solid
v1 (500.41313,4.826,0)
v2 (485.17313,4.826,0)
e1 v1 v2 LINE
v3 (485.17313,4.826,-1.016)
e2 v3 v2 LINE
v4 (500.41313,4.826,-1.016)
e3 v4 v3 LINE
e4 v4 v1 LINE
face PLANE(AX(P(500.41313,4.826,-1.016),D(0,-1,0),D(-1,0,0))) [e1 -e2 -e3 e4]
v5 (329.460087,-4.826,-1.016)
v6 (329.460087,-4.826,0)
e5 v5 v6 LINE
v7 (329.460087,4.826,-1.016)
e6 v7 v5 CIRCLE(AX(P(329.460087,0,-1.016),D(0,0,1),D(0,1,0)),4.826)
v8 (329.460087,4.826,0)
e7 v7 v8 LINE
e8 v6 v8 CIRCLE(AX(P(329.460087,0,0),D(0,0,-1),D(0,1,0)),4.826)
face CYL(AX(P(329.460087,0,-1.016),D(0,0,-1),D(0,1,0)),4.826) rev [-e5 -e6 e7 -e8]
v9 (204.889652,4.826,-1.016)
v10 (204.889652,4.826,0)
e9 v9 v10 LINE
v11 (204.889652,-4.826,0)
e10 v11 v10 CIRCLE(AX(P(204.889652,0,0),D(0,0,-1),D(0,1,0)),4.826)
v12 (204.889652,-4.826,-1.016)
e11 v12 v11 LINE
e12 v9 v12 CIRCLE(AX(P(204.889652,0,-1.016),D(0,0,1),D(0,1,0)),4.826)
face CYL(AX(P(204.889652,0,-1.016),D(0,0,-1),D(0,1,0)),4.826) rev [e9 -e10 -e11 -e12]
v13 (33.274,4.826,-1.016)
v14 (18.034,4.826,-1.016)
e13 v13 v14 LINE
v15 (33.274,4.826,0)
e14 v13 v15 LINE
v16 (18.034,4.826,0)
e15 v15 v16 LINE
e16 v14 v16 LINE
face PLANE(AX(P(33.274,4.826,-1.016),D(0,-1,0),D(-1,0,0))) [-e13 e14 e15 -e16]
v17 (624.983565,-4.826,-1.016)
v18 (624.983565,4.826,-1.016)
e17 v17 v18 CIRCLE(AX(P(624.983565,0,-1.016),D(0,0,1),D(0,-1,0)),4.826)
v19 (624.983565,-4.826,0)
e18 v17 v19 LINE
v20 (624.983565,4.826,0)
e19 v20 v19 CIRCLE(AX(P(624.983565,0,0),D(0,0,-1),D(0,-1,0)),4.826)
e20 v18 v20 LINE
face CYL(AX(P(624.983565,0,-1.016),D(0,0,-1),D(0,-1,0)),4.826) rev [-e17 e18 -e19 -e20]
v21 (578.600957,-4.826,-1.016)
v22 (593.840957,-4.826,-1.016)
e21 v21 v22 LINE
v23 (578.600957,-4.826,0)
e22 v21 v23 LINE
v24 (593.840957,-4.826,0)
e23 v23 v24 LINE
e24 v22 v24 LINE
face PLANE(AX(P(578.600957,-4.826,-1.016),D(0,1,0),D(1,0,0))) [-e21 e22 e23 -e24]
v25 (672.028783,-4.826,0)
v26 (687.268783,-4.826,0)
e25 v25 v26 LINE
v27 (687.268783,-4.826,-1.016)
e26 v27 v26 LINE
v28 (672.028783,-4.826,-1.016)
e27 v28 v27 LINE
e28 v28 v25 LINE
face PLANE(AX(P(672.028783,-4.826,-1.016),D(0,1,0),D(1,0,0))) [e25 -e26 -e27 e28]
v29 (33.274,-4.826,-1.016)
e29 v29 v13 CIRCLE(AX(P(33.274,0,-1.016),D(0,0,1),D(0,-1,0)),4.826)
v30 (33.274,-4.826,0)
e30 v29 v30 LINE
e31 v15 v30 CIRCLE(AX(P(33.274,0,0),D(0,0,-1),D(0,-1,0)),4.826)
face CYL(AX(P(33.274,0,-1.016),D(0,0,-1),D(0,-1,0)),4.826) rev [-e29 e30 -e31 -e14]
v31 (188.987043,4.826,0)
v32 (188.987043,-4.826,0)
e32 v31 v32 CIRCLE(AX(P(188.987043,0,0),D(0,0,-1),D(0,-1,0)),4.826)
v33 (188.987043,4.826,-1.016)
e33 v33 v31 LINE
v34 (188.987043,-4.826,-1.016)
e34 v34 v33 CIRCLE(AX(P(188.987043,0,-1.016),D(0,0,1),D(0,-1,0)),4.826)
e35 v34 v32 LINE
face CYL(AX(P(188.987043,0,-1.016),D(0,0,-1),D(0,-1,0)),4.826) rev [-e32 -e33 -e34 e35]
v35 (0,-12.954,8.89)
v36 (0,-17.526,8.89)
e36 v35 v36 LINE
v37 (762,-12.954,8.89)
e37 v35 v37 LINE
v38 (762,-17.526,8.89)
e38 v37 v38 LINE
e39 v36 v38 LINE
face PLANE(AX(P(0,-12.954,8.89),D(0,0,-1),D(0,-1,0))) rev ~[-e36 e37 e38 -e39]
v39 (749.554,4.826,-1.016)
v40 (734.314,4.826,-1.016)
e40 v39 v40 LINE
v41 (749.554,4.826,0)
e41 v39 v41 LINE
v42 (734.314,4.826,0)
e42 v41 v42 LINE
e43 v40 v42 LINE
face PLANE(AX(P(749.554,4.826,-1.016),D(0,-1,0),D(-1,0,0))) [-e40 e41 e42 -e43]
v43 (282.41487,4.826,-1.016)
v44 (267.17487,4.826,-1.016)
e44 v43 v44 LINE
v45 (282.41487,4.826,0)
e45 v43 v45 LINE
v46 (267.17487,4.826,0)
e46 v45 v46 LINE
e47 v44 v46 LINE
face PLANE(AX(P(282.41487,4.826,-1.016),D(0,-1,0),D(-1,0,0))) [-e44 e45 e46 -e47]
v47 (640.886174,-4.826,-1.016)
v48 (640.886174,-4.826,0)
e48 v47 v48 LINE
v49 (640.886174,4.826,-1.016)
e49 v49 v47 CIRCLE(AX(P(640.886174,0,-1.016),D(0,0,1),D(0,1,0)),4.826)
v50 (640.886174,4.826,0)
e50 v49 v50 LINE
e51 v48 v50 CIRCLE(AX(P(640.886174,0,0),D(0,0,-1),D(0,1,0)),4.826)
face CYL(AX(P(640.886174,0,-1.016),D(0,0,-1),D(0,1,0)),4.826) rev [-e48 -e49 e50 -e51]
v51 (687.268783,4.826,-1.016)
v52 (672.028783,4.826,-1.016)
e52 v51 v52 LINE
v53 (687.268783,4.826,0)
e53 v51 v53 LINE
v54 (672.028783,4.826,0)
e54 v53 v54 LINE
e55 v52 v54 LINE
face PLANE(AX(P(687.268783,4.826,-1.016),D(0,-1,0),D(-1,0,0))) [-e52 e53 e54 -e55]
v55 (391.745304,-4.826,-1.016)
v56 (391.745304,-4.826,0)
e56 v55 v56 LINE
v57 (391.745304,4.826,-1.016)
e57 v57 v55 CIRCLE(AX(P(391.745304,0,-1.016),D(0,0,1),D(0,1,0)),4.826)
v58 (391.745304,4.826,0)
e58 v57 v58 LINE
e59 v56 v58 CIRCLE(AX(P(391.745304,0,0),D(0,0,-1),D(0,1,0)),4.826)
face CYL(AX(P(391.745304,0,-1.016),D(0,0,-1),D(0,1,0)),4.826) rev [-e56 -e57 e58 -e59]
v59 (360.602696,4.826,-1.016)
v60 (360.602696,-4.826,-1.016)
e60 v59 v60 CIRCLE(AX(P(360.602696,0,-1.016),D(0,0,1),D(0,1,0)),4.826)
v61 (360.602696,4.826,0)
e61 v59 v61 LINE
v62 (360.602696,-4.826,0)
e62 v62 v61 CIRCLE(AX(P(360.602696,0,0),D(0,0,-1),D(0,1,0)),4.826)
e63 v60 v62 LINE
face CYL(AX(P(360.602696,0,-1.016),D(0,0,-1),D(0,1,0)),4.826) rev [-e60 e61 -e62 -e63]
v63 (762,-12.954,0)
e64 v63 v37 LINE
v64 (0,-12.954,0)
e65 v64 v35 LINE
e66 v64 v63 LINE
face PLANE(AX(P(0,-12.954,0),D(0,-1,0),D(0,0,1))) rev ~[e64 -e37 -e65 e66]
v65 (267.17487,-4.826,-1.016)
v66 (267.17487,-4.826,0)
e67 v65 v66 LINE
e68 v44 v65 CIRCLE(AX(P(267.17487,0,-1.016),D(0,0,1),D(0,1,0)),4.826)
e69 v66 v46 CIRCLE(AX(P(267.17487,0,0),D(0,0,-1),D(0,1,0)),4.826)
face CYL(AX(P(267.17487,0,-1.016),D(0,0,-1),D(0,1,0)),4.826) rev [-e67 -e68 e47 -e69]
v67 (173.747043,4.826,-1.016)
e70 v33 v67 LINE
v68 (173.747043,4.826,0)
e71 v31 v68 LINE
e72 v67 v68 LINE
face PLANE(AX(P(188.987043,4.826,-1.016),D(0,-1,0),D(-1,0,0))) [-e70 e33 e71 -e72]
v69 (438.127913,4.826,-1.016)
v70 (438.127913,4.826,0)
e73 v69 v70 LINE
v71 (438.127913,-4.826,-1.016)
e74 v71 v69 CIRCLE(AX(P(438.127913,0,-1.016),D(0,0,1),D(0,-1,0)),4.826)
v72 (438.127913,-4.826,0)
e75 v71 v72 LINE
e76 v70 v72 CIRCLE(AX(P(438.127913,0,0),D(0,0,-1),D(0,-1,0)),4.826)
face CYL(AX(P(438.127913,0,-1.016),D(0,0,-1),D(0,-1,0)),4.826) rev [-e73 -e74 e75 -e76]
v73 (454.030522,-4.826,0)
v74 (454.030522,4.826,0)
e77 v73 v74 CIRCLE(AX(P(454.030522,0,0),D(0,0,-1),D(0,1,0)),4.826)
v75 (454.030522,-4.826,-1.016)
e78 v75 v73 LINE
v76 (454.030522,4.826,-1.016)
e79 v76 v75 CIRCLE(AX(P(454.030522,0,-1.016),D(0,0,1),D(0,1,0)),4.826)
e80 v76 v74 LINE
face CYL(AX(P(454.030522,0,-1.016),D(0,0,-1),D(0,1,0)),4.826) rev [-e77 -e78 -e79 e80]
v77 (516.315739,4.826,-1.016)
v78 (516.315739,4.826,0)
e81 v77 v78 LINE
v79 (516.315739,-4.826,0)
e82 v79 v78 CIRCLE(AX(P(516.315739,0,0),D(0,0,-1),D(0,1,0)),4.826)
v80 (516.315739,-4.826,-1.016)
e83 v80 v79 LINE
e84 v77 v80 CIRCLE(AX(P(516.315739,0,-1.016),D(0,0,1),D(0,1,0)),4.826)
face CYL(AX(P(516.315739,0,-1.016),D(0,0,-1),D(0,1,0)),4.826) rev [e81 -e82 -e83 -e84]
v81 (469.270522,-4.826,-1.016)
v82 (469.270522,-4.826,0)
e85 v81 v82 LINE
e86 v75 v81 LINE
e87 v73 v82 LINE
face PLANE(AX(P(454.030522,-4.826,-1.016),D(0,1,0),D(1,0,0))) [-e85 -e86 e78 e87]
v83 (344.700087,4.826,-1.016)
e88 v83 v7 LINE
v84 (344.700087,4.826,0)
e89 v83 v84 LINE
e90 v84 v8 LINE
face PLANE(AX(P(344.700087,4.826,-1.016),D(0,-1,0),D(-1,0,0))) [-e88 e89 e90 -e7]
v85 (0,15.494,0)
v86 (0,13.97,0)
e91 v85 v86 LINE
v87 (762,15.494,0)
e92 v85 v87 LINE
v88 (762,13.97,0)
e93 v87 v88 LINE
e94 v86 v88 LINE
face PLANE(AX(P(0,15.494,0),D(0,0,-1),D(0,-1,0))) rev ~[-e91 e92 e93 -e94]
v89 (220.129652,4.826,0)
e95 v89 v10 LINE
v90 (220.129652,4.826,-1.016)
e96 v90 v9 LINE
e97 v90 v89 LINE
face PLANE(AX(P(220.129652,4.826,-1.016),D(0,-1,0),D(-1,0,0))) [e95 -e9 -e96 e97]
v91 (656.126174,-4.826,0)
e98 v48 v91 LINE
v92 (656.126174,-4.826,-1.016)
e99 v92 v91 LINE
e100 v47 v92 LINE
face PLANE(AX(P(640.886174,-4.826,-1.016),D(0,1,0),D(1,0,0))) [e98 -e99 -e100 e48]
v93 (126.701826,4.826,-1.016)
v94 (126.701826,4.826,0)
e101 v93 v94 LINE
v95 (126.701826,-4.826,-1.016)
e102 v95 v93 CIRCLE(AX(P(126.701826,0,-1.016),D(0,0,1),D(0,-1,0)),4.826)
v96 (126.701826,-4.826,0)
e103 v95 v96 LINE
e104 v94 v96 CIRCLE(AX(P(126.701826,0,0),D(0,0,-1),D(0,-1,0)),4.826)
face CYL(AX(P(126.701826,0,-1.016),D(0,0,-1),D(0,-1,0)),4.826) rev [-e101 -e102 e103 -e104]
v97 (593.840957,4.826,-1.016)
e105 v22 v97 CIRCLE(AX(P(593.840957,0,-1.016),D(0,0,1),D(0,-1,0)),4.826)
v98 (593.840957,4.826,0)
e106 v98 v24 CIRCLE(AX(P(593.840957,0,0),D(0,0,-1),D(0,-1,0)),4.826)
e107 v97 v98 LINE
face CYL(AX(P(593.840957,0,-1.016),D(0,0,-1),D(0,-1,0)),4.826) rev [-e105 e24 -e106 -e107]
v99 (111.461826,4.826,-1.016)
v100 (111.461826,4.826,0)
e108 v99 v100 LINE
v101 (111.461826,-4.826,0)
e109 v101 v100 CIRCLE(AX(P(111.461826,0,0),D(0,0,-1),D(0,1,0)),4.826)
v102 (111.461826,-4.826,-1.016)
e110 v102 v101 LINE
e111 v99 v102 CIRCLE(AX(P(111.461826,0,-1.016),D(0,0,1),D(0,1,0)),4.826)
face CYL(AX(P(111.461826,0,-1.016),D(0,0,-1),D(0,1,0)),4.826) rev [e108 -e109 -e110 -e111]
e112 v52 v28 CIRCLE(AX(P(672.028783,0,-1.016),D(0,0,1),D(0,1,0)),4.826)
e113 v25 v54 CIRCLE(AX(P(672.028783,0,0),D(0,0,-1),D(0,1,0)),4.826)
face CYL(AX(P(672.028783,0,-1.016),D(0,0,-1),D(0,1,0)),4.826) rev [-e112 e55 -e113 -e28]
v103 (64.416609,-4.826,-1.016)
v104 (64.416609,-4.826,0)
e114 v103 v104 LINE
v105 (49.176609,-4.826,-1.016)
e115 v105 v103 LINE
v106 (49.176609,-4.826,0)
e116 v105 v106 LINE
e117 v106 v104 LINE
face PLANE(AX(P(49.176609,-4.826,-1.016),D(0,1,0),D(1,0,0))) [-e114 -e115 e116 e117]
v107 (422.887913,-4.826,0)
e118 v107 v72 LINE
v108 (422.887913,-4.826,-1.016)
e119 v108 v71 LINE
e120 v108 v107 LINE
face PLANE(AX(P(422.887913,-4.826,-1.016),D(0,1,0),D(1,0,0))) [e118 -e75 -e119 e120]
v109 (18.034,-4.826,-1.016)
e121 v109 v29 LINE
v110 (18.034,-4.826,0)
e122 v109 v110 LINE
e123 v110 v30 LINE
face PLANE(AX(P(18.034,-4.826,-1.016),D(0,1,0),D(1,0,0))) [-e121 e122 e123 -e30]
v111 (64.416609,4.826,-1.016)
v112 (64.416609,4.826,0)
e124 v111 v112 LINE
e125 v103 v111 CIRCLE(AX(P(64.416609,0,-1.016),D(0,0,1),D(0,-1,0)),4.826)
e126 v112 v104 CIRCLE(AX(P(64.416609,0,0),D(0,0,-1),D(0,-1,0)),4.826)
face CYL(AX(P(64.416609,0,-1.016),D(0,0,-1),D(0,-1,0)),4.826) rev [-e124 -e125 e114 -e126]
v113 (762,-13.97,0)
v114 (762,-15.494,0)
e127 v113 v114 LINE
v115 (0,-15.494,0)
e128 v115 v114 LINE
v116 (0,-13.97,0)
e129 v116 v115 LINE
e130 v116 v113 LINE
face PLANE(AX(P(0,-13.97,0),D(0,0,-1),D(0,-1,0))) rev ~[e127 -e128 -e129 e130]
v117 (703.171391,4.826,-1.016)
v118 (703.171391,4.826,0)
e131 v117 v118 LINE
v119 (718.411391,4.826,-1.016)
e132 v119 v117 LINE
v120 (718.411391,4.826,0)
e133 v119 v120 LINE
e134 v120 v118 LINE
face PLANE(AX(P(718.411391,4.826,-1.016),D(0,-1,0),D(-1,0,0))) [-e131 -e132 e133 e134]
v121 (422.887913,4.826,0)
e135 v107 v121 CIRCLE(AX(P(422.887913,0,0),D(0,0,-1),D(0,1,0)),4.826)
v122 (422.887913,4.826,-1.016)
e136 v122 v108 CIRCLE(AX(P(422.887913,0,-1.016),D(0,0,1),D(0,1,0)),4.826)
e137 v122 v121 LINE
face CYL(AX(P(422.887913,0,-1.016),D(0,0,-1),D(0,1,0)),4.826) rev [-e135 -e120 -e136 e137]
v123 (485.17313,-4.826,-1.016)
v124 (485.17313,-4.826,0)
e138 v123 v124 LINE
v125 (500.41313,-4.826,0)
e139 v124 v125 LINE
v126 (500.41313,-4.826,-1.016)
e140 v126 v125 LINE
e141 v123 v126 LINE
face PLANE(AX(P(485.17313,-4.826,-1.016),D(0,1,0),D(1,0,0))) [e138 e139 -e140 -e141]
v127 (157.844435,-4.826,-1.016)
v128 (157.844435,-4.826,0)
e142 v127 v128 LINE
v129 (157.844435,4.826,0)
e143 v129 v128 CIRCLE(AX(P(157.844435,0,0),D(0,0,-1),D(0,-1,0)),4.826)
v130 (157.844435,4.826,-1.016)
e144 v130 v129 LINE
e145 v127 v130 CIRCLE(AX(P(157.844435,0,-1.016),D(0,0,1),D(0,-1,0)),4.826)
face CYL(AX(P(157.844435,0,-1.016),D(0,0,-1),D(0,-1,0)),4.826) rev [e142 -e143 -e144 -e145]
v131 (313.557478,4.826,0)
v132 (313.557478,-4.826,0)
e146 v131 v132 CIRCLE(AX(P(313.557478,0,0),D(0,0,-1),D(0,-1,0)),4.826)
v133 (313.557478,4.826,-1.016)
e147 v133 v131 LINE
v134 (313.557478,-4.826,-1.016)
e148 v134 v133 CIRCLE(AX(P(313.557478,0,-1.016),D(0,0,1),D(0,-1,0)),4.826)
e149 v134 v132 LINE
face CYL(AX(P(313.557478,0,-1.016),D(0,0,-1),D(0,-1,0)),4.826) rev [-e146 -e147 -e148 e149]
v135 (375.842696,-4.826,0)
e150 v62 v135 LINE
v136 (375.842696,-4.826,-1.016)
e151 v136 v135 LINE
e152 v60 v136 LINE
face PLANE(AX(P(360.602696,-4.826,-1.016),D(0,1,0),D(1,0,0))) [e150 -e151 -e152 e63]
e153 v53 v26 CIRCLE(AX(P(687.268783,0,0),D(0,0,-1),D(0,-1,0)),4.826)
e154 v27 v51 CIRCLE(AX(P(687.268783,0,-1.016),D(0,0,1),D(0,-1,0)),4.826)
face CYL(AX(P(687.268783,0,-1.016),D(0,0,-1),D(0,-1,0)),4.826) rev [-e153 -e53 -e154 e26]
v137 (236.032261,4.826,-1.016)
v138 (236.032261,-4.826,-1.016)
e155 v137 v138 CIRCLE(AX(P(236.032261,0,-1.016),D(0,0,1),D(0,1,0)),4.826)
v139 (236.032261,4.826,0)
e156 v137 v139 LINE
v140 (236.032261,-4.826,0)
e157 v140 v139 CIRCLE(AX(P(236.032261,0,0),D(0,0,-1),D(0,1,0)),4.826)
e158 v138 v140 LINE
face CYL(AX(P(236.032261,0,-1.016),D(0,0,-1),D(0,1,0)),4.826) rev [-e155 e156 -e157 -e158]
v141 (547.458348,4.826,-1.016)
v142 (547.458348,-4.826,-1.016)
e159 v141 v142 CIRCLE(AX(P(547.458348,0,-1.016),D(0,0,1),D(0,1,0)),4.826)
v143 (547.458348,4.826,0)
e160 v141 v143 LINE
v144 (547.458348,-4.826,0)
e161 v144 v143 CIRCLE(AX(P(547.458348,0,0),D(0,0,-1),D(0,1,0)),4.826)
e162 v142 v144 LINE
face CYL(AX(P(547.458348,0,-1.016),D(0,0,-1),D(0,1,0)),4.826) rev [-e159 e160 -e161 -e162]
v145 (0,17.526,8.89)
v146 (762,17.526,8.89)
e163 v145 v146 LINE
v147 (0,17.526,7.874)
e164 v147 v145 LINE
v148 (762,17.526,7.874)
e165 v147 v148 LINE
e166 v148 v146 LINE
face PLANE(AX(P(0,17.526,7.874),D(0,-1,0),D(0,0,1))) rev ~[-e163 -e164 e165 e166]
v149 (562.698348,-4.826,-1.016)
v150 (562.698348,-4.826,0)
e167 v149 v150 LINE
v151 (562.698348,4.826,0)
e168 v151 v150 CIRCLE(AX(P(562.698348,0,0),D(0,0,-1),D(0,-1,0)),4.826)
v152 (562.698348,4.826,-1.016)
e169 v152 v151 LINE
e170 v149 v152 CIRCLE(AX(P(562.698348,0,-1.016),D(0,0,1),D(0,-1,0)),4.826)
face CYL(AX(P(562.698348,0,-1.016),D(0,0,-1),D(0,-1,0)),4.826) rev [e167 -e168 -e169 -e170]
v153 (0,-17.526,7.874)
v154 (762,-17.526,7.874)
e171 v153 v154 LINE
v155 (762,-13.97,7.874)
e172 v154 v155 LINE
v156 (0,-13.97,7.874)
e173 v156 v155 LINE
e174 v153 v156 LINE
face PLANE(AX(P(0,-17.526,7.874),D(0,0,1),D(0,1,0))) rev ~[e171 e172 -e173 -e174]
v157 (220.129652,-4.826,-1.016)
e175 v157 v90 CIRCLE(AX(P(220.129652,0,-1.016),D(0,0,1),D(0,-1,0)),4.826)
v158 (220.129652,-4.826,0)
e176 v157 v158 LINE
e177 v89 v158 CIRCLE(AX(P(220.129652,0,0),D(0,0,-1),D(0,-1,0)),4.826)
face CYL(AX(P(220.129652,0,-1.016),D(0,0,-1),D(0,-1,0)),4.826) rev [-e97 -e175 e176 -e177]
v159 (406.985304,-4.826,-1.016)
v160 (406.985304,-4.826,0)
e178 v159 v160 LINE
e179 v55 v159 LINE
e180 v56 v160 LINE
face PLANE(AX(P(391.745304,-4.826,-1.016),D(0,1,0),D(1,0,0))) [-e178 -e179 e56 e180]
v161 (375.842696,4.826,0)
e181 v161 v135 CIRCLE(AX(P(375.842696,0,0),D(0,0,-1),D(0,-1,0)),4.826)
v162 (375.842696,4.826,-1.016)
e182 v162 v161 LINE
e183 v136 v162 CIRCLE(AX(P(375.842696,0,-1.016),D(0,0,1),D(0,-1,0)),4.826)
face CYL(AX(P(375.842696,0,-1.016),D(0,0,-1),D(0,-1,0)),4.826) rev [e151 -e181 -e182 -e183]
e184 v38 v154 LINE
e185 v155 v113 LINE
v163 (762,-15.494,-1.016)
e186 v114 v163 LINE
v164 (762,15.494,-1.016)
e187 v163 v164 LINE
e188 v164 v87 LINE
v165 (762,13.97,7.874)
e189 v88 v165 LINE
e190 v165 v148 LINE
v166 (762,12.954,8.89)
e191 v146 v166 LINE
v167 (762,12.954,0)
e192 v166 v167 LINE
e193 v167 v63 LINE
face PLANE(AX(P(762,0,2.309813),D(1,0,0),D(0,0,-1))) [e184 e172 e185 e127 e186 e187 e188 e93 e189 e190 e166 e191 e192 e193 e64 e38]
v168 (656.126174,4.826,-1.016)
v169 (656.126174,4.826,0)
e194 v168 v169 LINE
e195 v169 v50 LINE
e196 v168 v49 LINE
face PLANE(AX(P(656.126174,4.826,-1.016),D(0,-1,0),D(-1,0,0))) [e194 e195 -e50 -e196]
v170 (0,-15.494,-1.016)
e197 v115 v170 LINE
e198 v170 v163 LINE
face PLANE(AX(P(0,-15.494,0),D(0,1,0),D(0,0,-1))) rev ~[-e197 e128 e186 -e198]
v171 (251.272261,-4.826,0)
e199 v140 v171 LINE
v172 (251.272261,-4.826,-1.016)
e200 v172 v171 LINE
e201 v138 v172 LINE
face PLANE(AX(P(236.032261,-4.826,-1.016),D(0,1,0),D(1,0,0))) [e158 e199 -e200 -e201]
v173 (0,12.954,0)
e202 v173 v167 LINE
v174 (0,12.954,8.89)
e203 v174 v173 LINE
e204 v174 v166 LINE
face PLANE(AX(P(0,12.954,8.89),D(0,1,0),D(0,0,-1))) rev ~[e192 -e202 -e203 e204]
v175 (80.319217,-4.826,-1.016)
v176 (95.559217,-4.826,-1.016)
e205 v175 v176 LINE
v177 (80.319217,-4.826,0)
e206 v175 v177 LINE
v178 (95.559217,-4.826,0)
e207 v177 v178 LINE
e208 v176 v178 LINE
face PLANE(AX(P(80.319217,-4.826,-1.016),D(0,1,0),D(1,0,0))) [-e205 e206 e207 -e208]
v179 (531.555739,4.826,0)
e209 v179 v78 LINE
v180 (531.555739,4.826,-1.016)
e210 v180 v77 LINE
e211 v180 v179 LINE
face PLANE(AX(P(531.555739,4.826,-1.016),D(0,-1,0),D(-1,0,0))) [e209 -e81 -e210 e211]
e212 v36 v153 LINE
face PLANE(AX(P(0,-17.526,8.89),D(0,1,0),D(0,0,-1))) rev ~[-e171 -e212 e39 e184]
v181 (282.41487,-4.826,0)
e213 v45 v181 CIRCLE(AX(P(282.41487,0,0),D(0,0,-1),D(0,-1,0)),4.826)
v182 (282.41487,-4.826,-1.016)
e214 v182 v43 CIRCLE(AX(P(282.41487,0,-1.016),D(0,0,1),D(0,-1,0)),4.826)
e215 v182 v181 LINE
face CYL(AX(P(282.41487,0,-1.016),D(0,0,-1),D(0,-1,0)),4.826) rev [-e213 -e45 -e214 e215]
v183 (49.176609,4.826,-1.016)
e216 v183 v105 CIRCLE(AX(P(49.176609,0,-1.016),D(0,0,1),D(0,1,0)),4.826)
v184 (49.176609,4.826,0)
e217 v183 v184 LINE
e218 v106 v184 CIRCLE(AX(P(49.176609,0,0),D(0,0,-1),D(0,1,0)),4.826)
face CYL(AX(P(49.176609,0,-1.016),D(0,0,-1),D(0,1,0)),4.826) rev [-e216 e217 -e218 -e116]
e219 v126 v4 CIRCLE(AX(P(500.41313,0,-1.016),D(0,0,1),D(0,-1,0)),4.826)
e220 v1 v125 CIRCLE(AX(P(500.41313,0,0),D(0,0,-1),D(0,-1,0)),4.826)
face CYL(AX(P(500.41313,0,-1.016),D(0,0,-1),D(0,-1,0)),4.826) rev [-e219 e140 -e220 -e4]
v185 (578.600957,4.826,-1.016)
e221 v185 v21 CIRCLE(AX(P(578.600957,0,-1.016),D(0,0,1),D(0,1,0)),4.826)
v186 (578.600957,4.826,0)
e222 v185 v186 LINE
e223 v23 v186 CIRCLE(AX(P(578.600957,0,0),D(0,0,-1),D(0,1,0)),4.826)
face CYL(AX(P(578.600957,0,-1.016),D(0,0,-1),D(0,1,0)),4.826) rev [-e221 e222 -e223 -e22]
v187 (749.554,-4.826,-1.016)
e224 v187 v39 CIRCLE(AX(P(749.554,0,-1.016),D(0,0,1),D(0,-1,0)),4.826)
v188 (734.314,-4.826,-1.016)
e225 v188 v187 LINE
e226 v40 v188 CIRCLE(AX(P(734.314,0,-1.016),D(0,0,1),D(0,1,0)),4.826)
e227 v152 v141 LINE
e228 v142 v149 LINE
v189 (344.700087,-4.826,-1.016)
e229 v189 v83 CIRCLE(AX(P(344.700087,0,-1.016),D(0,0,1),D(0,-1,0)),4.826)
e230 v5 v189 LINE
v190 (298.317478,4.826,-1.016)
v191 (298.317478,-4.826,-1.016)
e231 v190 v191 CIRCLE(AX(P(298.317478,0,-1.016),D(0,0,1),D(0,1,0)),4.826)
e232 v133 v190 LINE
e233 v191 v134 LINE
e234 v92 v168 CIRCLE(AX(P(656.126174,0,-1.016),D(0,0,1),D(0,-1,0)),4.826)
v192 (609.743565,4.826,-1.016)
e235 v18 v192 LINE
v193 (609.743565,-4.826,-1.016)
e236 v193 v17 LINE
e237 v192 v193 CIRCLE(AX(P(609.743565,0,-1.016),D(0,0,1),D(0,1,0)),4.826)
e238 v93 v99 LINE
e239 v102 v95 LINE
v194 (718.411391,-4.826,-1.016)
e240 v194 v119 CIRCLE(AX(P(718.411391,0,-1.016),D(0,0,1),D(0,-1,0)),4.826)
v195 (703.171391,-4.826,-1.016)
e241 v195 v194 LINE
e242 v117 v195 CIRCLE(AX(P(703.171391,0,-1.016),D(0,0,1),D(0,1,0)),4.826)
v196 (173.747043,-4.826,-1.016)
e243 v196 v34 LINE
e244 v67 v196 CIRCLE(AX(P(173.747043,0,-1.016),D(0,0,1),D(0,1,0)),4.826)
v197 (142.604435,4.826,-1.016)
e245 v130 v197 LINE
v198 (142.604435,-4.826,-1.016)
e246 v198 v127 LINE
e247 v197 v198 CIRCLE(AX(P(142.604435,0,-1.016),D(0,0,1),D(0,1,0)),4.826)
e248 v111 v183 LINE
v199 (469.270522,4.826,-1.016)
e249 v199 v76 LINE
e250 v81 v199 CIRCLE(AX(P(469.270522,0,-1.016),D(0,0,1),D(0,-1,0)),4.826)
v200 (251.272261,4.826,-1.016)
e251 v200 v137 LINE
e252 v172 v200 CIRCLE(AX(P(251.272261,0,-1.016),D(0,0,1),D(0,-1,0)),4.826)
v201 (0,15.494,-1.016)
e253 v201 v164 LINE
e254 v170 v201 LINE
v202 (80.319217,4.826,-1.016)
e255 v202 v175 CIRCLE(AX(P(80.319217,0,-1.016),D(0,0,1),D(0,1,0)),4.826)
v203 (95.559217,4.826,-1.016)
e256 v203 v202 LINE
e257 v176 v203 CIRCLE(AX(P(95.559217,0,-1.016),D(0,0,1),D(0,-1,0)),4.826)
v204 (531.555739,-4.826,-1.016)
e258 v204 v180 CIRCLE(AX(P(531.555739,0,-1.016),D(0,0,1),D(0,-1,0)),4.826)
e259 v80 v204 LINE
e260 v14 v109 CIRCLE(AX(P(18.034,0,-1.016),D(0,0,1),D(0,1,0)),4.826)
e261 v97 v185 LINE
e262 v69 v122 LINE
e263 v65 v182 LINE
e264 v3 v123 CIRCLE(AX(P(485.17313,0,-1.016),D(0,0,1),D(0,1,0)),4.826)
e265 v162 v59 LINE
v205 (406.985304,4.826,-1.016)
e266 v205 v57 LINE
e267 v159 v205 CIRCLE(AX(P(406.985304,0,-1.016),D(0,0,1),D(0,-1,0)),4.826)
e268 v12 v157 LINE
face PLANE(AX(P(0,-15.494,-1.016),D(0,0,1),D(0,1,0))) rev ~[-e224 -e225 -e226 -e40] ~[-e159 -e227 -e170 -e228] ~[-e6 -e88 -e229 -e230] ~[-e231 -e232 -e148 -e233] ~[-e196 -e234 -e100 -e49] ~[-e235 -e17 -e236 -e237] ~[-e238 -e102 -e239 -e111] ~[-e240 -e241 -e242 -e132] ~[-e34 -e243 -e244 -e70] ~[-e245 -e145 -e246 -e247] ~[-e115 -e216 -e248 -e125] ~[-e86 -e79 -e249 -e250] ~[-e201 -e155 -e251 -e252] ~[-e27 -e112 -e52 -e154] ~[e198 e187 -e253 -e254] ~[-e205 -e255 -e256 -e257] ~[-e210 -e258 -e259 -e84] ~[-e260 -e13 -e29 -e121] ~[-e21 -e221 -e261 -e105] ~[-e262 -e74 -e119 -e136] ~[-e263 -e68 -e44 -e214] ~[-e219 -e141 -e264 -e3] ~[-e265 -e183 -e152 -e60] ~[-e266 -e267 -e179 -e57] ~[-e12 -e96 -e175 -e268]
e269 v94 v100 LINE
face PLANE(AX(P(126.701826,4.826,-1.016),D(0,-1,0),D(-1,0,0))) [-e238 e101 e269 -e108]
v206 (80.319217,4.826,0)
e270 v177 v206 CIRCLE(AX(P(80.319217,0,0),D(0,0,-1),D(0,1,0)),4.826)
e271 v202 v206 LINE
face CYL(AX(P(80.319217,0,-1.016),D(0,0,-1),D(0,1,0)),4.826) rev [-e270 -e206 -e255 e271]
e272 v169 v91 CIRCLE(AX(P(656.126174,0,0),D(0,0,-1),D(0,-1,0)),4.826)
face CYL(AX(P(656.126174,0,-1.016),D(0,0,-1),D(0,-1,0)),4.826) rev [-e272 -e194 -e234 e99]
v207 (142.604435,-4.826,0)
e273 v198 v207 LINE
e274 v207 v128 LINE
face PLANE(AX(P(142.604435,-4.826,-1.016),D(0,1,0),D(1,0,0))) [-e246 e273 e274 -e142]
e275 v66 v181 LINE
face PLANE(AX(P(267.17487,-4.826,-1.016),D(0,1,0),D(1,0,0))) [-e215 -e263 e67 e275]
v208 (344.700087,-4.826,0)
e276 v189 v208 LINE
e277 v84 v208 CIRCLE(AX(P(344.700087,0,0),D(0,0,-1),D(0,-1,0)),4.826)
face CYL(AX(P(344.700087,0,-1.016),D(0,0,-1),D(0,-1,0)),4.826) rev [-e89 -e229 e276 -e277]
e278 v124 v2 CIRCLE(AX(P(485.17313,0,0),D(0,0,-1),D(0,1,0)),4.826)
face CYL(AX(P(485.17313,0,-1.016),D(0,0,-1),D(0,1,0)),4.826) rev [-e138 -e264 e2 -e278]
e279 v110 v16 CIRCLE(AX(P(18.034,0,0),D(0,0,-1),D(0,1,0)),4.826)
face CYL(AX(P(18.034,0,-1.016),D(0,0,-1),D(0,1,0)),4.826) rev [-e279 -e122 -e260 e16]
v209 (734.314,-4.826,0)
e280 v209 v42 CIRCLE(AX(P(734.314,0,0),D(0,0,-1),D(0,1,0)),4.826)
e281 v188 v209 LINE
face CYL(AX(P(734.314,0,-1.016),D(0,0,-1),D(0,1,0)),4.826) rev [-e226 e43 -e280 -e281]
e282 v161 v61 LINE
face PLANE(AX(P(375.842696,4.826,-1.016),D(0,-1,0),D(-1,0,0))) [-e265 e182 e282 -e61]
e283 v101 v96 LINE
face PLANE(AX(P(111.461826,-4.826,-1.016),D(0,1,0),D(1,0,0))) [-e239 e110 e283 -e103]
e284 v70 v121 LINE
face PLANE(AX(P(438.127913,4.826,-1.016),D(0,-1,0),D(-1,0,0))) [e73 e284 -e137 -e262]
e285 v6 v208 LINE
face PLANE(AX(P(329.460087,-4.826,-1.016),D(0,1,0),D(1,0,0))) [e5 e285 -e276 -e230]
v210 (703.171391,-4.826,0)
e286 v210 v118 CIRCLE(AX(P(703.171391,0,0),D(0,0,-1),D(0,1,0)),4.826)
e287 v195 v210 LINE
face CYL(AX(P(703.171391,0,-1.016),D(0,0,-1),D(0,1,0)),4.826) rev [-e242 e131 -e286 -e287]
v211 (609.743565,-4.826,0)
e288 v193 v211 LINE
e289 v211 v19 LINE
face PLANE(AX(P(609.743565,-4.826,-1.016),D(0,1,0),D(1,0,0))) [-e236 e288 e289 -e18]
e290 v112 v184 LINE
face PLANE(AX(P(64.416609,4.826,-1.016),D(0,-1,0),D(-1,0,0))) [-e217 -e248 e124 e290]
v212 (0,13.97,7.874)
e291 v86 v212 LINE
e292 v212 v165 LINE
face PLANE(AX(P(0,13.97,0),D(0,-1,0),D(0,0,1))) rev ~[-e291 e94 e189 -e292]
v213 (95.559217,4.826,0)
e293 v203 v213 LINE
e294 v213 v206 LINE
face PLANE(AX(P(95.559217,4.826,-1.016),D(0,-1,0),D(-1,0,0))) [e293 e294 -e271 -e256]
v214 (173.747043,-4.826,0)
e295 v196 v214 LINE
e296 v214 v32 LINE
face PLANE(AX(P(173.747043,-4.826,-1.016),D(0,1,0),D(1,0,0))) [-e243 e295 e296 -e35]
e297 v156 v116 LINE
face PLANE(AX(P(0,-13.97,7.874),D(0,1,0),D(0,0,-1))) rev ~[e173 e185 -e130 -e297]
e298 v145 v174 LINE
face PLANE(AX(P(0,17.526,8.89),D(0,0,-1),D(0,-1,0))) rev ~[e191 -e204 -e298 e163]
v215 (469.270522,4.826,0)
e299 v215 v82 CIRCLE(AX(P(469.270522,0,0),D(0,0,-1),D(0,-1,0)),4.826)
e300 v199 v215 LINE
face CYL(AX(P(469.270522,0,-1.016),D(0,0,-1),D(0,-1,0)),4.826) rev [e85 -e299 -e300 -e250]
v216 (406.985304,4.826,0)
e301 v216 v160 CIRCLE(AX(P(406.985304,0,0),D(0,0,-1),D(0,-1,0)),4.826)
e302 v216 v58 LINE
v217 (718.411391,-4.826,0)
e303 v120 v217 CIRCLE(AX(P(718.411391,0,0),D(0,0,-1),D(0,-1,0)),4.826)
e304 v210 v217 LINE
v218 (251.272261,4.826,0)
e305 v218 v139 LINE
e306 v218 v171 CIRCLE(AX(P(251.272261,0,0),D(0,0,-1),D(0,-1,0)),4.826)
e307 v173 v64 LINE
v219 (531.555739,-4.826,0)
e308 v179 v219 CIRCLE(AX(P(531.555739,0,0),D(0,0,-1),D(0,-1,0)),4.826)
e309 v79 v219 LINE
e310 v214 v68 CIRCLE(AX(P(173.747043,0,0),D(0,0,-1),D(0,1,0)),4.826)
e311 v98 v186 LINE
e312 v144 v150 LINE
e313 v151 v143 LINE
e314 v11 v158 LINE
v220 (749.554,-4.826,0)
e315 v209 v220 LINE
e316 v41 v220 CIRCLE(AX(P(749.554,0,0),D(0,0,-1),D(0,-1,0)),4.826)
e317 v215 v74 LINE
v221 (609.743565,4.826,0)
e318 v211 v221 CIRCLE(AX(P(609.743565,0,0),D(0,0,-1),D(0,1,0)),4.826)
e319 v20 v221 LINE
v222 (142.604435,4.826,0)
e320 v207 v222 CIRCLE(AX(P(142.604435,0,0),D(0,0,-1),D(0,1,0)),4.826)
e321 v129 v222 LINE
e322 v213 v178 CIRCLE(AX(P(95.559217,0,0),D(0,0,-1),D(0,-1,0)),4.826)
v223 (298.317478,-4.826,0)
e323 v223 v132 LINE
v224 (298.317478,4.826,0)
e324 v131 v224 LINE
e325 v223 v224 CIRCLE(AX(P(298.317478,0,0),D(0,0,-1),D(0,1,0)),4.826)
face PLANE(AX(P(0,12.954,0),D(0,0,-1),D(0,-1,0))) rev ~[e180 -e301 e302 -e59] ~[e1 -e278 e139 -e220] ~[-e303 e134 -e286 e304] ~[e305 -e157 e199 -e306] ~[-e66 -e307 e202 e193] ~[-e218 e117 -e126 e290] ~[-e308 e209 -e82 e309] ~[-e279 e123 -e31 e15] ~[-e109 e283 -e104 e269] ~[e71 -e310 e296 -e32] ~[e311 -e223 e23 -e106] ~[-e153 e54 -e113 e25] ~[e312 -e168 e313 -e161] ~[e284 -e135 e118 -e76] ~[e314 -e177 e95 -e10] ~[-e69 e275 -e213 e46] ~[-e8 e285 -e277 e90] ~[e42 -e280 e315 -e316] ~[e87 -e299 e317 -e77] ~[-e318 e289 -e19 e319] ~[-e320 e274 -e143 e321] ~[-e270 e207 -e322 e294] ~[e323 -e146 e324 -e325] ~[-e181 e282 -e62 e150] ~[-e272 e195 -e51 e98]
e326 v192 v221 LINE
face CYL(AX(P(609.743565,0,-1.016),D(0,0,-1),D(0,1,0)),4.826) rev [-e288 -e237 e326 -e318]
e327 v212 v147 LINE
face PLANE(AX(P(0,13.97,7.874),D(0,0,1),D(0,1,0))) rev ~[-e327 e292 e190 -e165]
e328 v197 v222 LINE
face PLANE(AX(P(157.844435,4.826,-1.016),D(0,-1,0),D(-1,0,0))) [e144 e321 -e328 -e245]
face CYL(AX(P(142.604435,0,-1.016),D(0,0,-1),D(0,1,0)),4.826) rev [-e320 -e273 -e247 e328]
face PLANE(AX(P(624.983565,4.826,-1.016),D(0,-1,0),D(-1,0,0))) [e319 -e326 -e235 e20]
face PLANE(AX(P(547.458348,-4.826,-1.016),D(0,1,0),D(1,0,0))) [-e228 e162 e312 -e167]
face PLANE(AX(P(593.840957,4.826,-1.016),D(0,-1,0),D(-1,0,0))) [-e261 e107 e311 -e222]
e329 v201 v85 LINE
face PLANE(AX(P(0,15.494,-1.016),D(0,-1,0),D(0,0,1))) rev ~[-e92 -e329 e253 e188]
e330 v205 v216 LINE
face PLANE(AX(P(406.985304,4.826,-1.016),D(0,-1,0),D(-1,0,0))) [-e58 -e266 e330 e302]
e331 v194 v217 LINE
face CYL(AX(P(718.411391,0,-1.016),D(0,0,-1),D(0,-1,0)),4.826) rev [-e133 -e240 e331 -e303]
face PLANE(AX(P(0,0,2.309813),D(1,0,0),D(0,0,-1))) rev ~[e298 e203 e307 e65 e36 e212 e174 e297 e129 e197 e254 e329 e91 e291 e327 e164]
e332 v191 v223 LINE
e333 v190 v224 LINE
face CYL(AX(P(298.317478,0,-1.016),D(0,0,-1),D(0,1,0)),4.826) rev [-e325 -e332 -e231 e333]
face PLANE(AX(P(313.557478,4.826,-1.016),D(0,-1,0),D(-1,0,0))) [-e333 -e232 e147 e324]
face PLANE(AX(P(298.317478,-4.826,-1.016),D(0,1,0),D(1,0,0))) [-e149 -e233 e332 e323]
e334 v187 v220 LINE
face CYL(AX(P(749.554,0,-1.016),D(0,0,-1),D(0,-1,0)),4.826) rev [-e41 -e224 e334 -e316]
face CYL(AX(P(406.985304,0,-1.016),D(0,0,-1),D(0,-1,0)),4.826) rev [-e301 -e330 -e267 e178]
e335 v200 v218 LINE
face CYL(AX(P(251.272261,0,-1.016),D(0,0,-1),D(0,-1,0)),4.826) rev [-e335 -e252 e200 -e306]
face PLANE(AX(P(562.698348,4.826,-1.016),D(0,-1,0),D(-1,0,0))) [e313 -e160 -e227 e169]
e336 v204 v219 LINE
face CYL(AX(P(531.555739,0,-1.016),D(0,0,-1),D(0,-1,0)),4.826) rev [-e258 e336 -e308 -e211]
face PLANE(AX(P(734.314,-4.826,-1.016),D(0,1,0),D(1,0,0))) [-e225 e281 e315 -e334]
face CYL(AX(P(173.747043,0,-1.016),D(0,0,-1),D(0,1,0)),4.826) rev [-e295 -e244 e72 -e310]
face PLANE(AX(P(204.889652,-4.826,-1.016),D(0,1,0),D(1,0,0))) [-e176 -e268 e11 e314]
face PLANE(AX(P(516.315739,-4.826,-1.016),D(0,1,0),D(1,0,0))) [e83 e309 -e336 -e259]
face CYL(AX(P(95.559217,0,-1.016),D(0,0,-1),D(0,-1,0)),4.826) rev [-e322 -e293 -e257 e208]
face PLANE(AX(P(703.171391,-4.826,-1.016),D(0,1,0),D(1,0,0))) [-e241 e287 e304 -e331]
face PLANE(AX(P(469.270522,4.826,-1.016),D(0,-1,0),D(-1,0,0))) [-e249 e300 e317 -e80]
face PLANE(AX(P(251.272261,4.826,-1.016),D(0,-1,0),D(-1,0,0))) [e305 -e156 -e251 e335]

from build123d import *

# Parameters (mm, degrees)
BOSS_EXTRUDE1_DEPTH = 762
CUT_EXTRUDE1_DEPTH  = 763.26589161


with BuildPart() as part:
    # Sketch1 → Boss-Extrude1 (new body)
    with BuildSketch(Plane(origin=(0, 0, 0), x_dir=(0, 0, -1), z_dir=(1, 0, 0))):
        Polygon((0, 12.954), (0, -12.954), (-8.89, -12.954), (-8.89, -17.526), (-7.874, -17.526), (-7.874, -13.97), (0, -13.97), (0, -15.494), (1.016, -15.494), (1.016, 15.494), (0, 15.494), (0, 13.97), (-7.874, 13.97), (-7.874, 17.526), (-8.89, 17.526), (-8.89, 12.954), align=None)
    extrude(amount=BOSS_EXTRUDE1_DEPTH)

    # Sketch2 → Cut-Extrude1 (cut, through all)
    with BuildSketch(Plane(origin=(0, 0, -1.016), x_dir=(-1, 0, 0), z_dir=(0, 0, -1))):
        with BuildLine():
            Line((-749.554, 4.826), (-734.314, 4.826))
            ThreePointArc((-734.314, 4.826), (-729.488, 0), (-734.314, -4.826))
            Line((-734.314, -4.826), (-749.554, -4.826))
            ThreePointArc((-749.554, -4.826), (-754.38, 0), (-749.554, 4.826))
        make_face()
        with BuildLine():
            Line((-718.411391304, 4.826), (-703.171391304, 4.826))
            ThreePointArc((-703.171391304, 4.826), (-698.345391304, 0), (-703.171391304, -4.826))
            Line((-703.171391304, -4.826), (-718.411391304, -4.826))
            ThreePointArc((-718.411391304, -4.826), (-723.237391304, 0), (-718.411391304, 4.826))
        make_face()
        with BuildLine():
            Line((-687.268782609, 4.826), (-672.028782609, 4.826))
            ThreePointArc((-672.028782609, 4.826), (-667.202782609, 0), (-672.028782609, -4.826))
            Line((-672.028782609, -4.826), (-687.268782609, -4.826))
            ThreePointArc((-687.268782609, -4.826), (-692.094782609, 0), (-687.268782609, 4.826))
        make_face()
        with BuildLine():
            Line((-656.126173913, 4.826), (-640.886173913, 4.826))
            ThreePointArc((-640.886173913, 4.826), (-636.060173913, 0), (-640.886173913, -4.826))
            Line((-640.886173913, -4.826), (-656.126173913, -4.826))
            ThreePointArc((-656.126173913, -4.826), (-660.952173913, 0), (-656.126173913, 4.826))
        make_face()
        with BuildLine():
            Line((-624.983565217, 4.826), (-609.743565217, 4.826))
            ThreePointArc((-609.743565217, 4.826), (-604.917565217, 0), (-609.743565217, -4.826))
            Line((-609.743565217, -4.826), (-624.983565217, -4.826))
            ThreePointArc((-624.983565217, -4.826), (-629.809565217, 0), (-624.983565217, 4.826))
        make_face()
        with BuildLine():
            Line((-593.840956522, 4.826), (-578.600956522, 4.826))
            ThreePointArc((-578.600956522, 4.826), (-573.774956522, 0), (-578.600956522, -4.826))
            Line((-578.600956522, -4.826), (-593.840956522, -4.826))
            ThreePointArc((-593.840956522, -4.826), (-598.666956522, 0), (-593.840956522, 4.826))
        make_face()
        with BuildLine():
            Line((-562.698347826, 4.826), (-547.458347826, 4.826))
            ThreePointArc((-547.458347826, 4.826), (-542.632347826, 0), (-547.458347826, -4.826))
            Line((-547.458347826, -4.826), (-562.698347826, -4.826))
            ThreePointArc((-562.698347826, -4.826), (-567.524347826, 0), (-562.698347826, 4.826))
        make_face()
        with BuildLine():
            Line((-531.55573913, 4.826), (-516.31573913, 4.826))
            ThreePointArc((-516.31573913, 4.826), (-511.48973913, 0), (-516.31573913, -4.826))
            Line((-516.31573913, -4.826), (-531.55573913, -4.826))
            ThreePointArc((-531.55573913, -4.826), (-536.38173913, 0), (-531.55573913, 4.826))
        make_face()
        with BuildLine():
            Line((-500.413130435, 4.826), (-485.173130435, 4.826))
            ThreePointArc((-485.173130435, 4.826), (-480.347130435, 0), (-485.173130435, -4.826))
            Line((-485.173130435, -4.826), (-500.413130435, -4.826))
            ThreePointArc((-500.413130435, -4.826), (-505.239130435, 0), (-500.413130435, 4.826))
        make_face()
        with BuildLine():
            Line((-469.270521739, 4.826), (-454.030521739, 4.826))
            ThreePointArc((-454.030521739, 4.826), (-449.204521739, 0), (-454.030521739, -4.826))
            Line((-454.030521739, -4.826), (-469.270521739, -4.826))
            ThreePointArc((-469.270521739, -4.826), (-474.096521739, 0), (-469.270521739, 4.826))
        make_face()
        with BuildLine():
            Line((-438.127913043, 4.826), (-422.887913043, 4.826))
            ThreePointArc((-422.887913043, 4.826), (-418.061913043, 0), (-422.887913043, -4.826))
            Line((-422.887913043, -4.826), (-438.127913043, -4.826))
            ThreePointArc((-438.127913043, -4.826), (-442.953913043, 0), (-438.127913043, 4.826))
        make_face()
        with BuildLine():
            Line((-406.985304348, 4.826), (-391.745304348, 4.826))
            ThreePointArc((-391.745304348, 4.826), (-386.919304348, 0), (-391.745304348, -4.826))
            Line((-391.745304348, -4.826), (-406.985304348, -4.826))
            ThreePointArc((-406.985304348, -4.826), (-411.811304348, 0), (-406.985304348, 4.826))
        make_face()
        with BuildLine():
            Line((-375.842695652, 4.826), (-360.602695652, 4.826))
            ThreePointArc((-360.602695652, 4.826), (-355.776695652, 0), (-360.602695652, -4.826))
            Line((-360.602695652, -4.826), (-375.842695652, -4.826))
            ThreePointArc((-375.842695652, -4.826), (-380.668695652, 0), (-375.842695652, 4.826))
        make_face()
        with BuildLine():
            Line((-344.700086957, 4.826), (-329.460086957, 4.826))
            ThreePointArc((-329.460086957, 4.826), (-324.634086957, 0), (-329.460086957, -4.826))
            Line((-329.460086957, -4.826), (-344.700086957, -4.826))
            ThreePointArc((-344.700086957, -4.826), (-349.526086957, 0), (-344.700086957, 4.826))
        make_face()
        with BuildLine():
            Line((-313.557478261, 4.826), (-298.317478261, 4.826))
            ThreePointArc((-298.317478261, 4.826), (-293.491478261, 0), (-298.317478261, -4.826))
            Line((-298.317478261, -4.826), (-313.557478261, -4.826))
            ThreePointArc((-313.557478261, -4.826), (-318.383478261, 0), (-313.557478261, 4.826))
        make_face()
        with BuildLine():
            Line((-282.414869565, 4.826), (-267.174869565, 4.826))
            ThreePointArc((-267.174869565, 4.826), (-262.348869565, 0), (-267.174869565, -4.826))
            Line((-267.174869565, -4.826), (-282.414869565, -4.826))
            ThreePointArc((-282.414869565, -4.826), (-287.240869565, 0), (-282.414869565, 4.826))
        make_face()
        with BuildLine():
            Line((-251.27226087, 4.826), (-236.03226087, 4.826))
            ThreePointArc((-236.03226087, 4.826), (-231.20626087, 0), (-236.03226087, -4.826))
            Line((-236.03226087, -4.826), (-251.27226087, -4.826))
            ThreePointArc((-251.27226087, -4.826), (-256.09826087, 0), (-251.27226087, 4.826))
        make_face()
        with BuildLine():
            Line((-220.129652174, 4.826), (-204.889652174, 4.826))
            ThreePointArc((-204.889652174, 4.826), (-200.063652174, 0), (-204.889652174, -4.826))
            Line((-204.889652174, -4.826), (-220.129652174, -4.826))
            ThreePointArc((-220.129652174, -4.826), (-224.955652174, 0), (-220.129652174, 4.826))
        make_face()
        with BuildLine():
            Line((-188.987043478, 4.826), (-173.747043478, 4.826))
            ThreePointArc((-173.747043478, 4.826), (-168.921043478, 0), (-173.747043478, -4.826))
            Line((-173.747043478, -4.826), (-188.987043478, -4.826))
            ThreePointArc((-188.987043478, -4.826), (-193.813043478, 0), (-188.987043478, 4.826))
        make_face()
        with BuildLine():
            Line((-157.844434783, 4.826), (-142.604434783, 4.826))
            ThreePointArc((-142.604434783, 4.826), (-137.778434783, 0), (-142.604434783, -4.826))
            Line((-142.604434783, -4.826), (-157.844434783, -4.826))
            ThreePointArc((-157.844434783, -4.826), (-162.670434783, 0), (-157.844434783, 4.826))
        make_face()
        with BuildLine():
            Line((-126.701826087, 4.826), (-111.461826087, 4.826))
            ThreePointArc((-111.461826087, 4.826), (-106.635826087, 0), (-111.461826087, -4.826))
            Line((-111.461826087, -4.826), (-126.701826087, -4.826))
            ThreePointArc((-126.701826087, -4.826), (-131.527826087, 0), (-126.701826087, 4.826))
        make_face()
        with BuildLine():
            Line((-95.559217391, 4.826), (-80.319217391, 4.826))
            ThreePointArc((-80.319217391, 4.826), (-75.493217391, 0), (-80.319217391, -4.826))
            Line((-80.319217391, -4.826), (-95.559217391, -4.826))
            ThreePointArc((-95.559217391, -4.826), (-100.385217391, 0), (-95.559217391, 4.826))
        make_face()
        with BuildLine():
            Line((-64.416608696, 4.826), (-49.176608696, 4.826))
            ThreePointArc((-49.176608696, 4.826), (-44.350608696, 0), (-49.176608696, -4.826))
            Line((-49.176608696, -4.826), (-64.416608696, -4.826))
            ThreePointArc((-64.416608696, -4.826), (-69.242608696, 0), (-64.416608696, 4.826))
        make_face()
        with BuildLine():
            Line((-33.274, 4.826), (-18.034, 4.826))
            ThreePointArc((-18.034, 4.826), (-13.208, 0), (-18.034, -4.826))
            Line((-18.034, -4.826), (-33.274, -4.826))
            ThreePointArc((-33.274, -4.826), (-38.1, 0), (-33.274, 4.826))
        make_face()
    extrude(amount=-CUT_EXTRUDE1_DEPTH, mode=Mode.SUBTRACT)


solid = part.part
